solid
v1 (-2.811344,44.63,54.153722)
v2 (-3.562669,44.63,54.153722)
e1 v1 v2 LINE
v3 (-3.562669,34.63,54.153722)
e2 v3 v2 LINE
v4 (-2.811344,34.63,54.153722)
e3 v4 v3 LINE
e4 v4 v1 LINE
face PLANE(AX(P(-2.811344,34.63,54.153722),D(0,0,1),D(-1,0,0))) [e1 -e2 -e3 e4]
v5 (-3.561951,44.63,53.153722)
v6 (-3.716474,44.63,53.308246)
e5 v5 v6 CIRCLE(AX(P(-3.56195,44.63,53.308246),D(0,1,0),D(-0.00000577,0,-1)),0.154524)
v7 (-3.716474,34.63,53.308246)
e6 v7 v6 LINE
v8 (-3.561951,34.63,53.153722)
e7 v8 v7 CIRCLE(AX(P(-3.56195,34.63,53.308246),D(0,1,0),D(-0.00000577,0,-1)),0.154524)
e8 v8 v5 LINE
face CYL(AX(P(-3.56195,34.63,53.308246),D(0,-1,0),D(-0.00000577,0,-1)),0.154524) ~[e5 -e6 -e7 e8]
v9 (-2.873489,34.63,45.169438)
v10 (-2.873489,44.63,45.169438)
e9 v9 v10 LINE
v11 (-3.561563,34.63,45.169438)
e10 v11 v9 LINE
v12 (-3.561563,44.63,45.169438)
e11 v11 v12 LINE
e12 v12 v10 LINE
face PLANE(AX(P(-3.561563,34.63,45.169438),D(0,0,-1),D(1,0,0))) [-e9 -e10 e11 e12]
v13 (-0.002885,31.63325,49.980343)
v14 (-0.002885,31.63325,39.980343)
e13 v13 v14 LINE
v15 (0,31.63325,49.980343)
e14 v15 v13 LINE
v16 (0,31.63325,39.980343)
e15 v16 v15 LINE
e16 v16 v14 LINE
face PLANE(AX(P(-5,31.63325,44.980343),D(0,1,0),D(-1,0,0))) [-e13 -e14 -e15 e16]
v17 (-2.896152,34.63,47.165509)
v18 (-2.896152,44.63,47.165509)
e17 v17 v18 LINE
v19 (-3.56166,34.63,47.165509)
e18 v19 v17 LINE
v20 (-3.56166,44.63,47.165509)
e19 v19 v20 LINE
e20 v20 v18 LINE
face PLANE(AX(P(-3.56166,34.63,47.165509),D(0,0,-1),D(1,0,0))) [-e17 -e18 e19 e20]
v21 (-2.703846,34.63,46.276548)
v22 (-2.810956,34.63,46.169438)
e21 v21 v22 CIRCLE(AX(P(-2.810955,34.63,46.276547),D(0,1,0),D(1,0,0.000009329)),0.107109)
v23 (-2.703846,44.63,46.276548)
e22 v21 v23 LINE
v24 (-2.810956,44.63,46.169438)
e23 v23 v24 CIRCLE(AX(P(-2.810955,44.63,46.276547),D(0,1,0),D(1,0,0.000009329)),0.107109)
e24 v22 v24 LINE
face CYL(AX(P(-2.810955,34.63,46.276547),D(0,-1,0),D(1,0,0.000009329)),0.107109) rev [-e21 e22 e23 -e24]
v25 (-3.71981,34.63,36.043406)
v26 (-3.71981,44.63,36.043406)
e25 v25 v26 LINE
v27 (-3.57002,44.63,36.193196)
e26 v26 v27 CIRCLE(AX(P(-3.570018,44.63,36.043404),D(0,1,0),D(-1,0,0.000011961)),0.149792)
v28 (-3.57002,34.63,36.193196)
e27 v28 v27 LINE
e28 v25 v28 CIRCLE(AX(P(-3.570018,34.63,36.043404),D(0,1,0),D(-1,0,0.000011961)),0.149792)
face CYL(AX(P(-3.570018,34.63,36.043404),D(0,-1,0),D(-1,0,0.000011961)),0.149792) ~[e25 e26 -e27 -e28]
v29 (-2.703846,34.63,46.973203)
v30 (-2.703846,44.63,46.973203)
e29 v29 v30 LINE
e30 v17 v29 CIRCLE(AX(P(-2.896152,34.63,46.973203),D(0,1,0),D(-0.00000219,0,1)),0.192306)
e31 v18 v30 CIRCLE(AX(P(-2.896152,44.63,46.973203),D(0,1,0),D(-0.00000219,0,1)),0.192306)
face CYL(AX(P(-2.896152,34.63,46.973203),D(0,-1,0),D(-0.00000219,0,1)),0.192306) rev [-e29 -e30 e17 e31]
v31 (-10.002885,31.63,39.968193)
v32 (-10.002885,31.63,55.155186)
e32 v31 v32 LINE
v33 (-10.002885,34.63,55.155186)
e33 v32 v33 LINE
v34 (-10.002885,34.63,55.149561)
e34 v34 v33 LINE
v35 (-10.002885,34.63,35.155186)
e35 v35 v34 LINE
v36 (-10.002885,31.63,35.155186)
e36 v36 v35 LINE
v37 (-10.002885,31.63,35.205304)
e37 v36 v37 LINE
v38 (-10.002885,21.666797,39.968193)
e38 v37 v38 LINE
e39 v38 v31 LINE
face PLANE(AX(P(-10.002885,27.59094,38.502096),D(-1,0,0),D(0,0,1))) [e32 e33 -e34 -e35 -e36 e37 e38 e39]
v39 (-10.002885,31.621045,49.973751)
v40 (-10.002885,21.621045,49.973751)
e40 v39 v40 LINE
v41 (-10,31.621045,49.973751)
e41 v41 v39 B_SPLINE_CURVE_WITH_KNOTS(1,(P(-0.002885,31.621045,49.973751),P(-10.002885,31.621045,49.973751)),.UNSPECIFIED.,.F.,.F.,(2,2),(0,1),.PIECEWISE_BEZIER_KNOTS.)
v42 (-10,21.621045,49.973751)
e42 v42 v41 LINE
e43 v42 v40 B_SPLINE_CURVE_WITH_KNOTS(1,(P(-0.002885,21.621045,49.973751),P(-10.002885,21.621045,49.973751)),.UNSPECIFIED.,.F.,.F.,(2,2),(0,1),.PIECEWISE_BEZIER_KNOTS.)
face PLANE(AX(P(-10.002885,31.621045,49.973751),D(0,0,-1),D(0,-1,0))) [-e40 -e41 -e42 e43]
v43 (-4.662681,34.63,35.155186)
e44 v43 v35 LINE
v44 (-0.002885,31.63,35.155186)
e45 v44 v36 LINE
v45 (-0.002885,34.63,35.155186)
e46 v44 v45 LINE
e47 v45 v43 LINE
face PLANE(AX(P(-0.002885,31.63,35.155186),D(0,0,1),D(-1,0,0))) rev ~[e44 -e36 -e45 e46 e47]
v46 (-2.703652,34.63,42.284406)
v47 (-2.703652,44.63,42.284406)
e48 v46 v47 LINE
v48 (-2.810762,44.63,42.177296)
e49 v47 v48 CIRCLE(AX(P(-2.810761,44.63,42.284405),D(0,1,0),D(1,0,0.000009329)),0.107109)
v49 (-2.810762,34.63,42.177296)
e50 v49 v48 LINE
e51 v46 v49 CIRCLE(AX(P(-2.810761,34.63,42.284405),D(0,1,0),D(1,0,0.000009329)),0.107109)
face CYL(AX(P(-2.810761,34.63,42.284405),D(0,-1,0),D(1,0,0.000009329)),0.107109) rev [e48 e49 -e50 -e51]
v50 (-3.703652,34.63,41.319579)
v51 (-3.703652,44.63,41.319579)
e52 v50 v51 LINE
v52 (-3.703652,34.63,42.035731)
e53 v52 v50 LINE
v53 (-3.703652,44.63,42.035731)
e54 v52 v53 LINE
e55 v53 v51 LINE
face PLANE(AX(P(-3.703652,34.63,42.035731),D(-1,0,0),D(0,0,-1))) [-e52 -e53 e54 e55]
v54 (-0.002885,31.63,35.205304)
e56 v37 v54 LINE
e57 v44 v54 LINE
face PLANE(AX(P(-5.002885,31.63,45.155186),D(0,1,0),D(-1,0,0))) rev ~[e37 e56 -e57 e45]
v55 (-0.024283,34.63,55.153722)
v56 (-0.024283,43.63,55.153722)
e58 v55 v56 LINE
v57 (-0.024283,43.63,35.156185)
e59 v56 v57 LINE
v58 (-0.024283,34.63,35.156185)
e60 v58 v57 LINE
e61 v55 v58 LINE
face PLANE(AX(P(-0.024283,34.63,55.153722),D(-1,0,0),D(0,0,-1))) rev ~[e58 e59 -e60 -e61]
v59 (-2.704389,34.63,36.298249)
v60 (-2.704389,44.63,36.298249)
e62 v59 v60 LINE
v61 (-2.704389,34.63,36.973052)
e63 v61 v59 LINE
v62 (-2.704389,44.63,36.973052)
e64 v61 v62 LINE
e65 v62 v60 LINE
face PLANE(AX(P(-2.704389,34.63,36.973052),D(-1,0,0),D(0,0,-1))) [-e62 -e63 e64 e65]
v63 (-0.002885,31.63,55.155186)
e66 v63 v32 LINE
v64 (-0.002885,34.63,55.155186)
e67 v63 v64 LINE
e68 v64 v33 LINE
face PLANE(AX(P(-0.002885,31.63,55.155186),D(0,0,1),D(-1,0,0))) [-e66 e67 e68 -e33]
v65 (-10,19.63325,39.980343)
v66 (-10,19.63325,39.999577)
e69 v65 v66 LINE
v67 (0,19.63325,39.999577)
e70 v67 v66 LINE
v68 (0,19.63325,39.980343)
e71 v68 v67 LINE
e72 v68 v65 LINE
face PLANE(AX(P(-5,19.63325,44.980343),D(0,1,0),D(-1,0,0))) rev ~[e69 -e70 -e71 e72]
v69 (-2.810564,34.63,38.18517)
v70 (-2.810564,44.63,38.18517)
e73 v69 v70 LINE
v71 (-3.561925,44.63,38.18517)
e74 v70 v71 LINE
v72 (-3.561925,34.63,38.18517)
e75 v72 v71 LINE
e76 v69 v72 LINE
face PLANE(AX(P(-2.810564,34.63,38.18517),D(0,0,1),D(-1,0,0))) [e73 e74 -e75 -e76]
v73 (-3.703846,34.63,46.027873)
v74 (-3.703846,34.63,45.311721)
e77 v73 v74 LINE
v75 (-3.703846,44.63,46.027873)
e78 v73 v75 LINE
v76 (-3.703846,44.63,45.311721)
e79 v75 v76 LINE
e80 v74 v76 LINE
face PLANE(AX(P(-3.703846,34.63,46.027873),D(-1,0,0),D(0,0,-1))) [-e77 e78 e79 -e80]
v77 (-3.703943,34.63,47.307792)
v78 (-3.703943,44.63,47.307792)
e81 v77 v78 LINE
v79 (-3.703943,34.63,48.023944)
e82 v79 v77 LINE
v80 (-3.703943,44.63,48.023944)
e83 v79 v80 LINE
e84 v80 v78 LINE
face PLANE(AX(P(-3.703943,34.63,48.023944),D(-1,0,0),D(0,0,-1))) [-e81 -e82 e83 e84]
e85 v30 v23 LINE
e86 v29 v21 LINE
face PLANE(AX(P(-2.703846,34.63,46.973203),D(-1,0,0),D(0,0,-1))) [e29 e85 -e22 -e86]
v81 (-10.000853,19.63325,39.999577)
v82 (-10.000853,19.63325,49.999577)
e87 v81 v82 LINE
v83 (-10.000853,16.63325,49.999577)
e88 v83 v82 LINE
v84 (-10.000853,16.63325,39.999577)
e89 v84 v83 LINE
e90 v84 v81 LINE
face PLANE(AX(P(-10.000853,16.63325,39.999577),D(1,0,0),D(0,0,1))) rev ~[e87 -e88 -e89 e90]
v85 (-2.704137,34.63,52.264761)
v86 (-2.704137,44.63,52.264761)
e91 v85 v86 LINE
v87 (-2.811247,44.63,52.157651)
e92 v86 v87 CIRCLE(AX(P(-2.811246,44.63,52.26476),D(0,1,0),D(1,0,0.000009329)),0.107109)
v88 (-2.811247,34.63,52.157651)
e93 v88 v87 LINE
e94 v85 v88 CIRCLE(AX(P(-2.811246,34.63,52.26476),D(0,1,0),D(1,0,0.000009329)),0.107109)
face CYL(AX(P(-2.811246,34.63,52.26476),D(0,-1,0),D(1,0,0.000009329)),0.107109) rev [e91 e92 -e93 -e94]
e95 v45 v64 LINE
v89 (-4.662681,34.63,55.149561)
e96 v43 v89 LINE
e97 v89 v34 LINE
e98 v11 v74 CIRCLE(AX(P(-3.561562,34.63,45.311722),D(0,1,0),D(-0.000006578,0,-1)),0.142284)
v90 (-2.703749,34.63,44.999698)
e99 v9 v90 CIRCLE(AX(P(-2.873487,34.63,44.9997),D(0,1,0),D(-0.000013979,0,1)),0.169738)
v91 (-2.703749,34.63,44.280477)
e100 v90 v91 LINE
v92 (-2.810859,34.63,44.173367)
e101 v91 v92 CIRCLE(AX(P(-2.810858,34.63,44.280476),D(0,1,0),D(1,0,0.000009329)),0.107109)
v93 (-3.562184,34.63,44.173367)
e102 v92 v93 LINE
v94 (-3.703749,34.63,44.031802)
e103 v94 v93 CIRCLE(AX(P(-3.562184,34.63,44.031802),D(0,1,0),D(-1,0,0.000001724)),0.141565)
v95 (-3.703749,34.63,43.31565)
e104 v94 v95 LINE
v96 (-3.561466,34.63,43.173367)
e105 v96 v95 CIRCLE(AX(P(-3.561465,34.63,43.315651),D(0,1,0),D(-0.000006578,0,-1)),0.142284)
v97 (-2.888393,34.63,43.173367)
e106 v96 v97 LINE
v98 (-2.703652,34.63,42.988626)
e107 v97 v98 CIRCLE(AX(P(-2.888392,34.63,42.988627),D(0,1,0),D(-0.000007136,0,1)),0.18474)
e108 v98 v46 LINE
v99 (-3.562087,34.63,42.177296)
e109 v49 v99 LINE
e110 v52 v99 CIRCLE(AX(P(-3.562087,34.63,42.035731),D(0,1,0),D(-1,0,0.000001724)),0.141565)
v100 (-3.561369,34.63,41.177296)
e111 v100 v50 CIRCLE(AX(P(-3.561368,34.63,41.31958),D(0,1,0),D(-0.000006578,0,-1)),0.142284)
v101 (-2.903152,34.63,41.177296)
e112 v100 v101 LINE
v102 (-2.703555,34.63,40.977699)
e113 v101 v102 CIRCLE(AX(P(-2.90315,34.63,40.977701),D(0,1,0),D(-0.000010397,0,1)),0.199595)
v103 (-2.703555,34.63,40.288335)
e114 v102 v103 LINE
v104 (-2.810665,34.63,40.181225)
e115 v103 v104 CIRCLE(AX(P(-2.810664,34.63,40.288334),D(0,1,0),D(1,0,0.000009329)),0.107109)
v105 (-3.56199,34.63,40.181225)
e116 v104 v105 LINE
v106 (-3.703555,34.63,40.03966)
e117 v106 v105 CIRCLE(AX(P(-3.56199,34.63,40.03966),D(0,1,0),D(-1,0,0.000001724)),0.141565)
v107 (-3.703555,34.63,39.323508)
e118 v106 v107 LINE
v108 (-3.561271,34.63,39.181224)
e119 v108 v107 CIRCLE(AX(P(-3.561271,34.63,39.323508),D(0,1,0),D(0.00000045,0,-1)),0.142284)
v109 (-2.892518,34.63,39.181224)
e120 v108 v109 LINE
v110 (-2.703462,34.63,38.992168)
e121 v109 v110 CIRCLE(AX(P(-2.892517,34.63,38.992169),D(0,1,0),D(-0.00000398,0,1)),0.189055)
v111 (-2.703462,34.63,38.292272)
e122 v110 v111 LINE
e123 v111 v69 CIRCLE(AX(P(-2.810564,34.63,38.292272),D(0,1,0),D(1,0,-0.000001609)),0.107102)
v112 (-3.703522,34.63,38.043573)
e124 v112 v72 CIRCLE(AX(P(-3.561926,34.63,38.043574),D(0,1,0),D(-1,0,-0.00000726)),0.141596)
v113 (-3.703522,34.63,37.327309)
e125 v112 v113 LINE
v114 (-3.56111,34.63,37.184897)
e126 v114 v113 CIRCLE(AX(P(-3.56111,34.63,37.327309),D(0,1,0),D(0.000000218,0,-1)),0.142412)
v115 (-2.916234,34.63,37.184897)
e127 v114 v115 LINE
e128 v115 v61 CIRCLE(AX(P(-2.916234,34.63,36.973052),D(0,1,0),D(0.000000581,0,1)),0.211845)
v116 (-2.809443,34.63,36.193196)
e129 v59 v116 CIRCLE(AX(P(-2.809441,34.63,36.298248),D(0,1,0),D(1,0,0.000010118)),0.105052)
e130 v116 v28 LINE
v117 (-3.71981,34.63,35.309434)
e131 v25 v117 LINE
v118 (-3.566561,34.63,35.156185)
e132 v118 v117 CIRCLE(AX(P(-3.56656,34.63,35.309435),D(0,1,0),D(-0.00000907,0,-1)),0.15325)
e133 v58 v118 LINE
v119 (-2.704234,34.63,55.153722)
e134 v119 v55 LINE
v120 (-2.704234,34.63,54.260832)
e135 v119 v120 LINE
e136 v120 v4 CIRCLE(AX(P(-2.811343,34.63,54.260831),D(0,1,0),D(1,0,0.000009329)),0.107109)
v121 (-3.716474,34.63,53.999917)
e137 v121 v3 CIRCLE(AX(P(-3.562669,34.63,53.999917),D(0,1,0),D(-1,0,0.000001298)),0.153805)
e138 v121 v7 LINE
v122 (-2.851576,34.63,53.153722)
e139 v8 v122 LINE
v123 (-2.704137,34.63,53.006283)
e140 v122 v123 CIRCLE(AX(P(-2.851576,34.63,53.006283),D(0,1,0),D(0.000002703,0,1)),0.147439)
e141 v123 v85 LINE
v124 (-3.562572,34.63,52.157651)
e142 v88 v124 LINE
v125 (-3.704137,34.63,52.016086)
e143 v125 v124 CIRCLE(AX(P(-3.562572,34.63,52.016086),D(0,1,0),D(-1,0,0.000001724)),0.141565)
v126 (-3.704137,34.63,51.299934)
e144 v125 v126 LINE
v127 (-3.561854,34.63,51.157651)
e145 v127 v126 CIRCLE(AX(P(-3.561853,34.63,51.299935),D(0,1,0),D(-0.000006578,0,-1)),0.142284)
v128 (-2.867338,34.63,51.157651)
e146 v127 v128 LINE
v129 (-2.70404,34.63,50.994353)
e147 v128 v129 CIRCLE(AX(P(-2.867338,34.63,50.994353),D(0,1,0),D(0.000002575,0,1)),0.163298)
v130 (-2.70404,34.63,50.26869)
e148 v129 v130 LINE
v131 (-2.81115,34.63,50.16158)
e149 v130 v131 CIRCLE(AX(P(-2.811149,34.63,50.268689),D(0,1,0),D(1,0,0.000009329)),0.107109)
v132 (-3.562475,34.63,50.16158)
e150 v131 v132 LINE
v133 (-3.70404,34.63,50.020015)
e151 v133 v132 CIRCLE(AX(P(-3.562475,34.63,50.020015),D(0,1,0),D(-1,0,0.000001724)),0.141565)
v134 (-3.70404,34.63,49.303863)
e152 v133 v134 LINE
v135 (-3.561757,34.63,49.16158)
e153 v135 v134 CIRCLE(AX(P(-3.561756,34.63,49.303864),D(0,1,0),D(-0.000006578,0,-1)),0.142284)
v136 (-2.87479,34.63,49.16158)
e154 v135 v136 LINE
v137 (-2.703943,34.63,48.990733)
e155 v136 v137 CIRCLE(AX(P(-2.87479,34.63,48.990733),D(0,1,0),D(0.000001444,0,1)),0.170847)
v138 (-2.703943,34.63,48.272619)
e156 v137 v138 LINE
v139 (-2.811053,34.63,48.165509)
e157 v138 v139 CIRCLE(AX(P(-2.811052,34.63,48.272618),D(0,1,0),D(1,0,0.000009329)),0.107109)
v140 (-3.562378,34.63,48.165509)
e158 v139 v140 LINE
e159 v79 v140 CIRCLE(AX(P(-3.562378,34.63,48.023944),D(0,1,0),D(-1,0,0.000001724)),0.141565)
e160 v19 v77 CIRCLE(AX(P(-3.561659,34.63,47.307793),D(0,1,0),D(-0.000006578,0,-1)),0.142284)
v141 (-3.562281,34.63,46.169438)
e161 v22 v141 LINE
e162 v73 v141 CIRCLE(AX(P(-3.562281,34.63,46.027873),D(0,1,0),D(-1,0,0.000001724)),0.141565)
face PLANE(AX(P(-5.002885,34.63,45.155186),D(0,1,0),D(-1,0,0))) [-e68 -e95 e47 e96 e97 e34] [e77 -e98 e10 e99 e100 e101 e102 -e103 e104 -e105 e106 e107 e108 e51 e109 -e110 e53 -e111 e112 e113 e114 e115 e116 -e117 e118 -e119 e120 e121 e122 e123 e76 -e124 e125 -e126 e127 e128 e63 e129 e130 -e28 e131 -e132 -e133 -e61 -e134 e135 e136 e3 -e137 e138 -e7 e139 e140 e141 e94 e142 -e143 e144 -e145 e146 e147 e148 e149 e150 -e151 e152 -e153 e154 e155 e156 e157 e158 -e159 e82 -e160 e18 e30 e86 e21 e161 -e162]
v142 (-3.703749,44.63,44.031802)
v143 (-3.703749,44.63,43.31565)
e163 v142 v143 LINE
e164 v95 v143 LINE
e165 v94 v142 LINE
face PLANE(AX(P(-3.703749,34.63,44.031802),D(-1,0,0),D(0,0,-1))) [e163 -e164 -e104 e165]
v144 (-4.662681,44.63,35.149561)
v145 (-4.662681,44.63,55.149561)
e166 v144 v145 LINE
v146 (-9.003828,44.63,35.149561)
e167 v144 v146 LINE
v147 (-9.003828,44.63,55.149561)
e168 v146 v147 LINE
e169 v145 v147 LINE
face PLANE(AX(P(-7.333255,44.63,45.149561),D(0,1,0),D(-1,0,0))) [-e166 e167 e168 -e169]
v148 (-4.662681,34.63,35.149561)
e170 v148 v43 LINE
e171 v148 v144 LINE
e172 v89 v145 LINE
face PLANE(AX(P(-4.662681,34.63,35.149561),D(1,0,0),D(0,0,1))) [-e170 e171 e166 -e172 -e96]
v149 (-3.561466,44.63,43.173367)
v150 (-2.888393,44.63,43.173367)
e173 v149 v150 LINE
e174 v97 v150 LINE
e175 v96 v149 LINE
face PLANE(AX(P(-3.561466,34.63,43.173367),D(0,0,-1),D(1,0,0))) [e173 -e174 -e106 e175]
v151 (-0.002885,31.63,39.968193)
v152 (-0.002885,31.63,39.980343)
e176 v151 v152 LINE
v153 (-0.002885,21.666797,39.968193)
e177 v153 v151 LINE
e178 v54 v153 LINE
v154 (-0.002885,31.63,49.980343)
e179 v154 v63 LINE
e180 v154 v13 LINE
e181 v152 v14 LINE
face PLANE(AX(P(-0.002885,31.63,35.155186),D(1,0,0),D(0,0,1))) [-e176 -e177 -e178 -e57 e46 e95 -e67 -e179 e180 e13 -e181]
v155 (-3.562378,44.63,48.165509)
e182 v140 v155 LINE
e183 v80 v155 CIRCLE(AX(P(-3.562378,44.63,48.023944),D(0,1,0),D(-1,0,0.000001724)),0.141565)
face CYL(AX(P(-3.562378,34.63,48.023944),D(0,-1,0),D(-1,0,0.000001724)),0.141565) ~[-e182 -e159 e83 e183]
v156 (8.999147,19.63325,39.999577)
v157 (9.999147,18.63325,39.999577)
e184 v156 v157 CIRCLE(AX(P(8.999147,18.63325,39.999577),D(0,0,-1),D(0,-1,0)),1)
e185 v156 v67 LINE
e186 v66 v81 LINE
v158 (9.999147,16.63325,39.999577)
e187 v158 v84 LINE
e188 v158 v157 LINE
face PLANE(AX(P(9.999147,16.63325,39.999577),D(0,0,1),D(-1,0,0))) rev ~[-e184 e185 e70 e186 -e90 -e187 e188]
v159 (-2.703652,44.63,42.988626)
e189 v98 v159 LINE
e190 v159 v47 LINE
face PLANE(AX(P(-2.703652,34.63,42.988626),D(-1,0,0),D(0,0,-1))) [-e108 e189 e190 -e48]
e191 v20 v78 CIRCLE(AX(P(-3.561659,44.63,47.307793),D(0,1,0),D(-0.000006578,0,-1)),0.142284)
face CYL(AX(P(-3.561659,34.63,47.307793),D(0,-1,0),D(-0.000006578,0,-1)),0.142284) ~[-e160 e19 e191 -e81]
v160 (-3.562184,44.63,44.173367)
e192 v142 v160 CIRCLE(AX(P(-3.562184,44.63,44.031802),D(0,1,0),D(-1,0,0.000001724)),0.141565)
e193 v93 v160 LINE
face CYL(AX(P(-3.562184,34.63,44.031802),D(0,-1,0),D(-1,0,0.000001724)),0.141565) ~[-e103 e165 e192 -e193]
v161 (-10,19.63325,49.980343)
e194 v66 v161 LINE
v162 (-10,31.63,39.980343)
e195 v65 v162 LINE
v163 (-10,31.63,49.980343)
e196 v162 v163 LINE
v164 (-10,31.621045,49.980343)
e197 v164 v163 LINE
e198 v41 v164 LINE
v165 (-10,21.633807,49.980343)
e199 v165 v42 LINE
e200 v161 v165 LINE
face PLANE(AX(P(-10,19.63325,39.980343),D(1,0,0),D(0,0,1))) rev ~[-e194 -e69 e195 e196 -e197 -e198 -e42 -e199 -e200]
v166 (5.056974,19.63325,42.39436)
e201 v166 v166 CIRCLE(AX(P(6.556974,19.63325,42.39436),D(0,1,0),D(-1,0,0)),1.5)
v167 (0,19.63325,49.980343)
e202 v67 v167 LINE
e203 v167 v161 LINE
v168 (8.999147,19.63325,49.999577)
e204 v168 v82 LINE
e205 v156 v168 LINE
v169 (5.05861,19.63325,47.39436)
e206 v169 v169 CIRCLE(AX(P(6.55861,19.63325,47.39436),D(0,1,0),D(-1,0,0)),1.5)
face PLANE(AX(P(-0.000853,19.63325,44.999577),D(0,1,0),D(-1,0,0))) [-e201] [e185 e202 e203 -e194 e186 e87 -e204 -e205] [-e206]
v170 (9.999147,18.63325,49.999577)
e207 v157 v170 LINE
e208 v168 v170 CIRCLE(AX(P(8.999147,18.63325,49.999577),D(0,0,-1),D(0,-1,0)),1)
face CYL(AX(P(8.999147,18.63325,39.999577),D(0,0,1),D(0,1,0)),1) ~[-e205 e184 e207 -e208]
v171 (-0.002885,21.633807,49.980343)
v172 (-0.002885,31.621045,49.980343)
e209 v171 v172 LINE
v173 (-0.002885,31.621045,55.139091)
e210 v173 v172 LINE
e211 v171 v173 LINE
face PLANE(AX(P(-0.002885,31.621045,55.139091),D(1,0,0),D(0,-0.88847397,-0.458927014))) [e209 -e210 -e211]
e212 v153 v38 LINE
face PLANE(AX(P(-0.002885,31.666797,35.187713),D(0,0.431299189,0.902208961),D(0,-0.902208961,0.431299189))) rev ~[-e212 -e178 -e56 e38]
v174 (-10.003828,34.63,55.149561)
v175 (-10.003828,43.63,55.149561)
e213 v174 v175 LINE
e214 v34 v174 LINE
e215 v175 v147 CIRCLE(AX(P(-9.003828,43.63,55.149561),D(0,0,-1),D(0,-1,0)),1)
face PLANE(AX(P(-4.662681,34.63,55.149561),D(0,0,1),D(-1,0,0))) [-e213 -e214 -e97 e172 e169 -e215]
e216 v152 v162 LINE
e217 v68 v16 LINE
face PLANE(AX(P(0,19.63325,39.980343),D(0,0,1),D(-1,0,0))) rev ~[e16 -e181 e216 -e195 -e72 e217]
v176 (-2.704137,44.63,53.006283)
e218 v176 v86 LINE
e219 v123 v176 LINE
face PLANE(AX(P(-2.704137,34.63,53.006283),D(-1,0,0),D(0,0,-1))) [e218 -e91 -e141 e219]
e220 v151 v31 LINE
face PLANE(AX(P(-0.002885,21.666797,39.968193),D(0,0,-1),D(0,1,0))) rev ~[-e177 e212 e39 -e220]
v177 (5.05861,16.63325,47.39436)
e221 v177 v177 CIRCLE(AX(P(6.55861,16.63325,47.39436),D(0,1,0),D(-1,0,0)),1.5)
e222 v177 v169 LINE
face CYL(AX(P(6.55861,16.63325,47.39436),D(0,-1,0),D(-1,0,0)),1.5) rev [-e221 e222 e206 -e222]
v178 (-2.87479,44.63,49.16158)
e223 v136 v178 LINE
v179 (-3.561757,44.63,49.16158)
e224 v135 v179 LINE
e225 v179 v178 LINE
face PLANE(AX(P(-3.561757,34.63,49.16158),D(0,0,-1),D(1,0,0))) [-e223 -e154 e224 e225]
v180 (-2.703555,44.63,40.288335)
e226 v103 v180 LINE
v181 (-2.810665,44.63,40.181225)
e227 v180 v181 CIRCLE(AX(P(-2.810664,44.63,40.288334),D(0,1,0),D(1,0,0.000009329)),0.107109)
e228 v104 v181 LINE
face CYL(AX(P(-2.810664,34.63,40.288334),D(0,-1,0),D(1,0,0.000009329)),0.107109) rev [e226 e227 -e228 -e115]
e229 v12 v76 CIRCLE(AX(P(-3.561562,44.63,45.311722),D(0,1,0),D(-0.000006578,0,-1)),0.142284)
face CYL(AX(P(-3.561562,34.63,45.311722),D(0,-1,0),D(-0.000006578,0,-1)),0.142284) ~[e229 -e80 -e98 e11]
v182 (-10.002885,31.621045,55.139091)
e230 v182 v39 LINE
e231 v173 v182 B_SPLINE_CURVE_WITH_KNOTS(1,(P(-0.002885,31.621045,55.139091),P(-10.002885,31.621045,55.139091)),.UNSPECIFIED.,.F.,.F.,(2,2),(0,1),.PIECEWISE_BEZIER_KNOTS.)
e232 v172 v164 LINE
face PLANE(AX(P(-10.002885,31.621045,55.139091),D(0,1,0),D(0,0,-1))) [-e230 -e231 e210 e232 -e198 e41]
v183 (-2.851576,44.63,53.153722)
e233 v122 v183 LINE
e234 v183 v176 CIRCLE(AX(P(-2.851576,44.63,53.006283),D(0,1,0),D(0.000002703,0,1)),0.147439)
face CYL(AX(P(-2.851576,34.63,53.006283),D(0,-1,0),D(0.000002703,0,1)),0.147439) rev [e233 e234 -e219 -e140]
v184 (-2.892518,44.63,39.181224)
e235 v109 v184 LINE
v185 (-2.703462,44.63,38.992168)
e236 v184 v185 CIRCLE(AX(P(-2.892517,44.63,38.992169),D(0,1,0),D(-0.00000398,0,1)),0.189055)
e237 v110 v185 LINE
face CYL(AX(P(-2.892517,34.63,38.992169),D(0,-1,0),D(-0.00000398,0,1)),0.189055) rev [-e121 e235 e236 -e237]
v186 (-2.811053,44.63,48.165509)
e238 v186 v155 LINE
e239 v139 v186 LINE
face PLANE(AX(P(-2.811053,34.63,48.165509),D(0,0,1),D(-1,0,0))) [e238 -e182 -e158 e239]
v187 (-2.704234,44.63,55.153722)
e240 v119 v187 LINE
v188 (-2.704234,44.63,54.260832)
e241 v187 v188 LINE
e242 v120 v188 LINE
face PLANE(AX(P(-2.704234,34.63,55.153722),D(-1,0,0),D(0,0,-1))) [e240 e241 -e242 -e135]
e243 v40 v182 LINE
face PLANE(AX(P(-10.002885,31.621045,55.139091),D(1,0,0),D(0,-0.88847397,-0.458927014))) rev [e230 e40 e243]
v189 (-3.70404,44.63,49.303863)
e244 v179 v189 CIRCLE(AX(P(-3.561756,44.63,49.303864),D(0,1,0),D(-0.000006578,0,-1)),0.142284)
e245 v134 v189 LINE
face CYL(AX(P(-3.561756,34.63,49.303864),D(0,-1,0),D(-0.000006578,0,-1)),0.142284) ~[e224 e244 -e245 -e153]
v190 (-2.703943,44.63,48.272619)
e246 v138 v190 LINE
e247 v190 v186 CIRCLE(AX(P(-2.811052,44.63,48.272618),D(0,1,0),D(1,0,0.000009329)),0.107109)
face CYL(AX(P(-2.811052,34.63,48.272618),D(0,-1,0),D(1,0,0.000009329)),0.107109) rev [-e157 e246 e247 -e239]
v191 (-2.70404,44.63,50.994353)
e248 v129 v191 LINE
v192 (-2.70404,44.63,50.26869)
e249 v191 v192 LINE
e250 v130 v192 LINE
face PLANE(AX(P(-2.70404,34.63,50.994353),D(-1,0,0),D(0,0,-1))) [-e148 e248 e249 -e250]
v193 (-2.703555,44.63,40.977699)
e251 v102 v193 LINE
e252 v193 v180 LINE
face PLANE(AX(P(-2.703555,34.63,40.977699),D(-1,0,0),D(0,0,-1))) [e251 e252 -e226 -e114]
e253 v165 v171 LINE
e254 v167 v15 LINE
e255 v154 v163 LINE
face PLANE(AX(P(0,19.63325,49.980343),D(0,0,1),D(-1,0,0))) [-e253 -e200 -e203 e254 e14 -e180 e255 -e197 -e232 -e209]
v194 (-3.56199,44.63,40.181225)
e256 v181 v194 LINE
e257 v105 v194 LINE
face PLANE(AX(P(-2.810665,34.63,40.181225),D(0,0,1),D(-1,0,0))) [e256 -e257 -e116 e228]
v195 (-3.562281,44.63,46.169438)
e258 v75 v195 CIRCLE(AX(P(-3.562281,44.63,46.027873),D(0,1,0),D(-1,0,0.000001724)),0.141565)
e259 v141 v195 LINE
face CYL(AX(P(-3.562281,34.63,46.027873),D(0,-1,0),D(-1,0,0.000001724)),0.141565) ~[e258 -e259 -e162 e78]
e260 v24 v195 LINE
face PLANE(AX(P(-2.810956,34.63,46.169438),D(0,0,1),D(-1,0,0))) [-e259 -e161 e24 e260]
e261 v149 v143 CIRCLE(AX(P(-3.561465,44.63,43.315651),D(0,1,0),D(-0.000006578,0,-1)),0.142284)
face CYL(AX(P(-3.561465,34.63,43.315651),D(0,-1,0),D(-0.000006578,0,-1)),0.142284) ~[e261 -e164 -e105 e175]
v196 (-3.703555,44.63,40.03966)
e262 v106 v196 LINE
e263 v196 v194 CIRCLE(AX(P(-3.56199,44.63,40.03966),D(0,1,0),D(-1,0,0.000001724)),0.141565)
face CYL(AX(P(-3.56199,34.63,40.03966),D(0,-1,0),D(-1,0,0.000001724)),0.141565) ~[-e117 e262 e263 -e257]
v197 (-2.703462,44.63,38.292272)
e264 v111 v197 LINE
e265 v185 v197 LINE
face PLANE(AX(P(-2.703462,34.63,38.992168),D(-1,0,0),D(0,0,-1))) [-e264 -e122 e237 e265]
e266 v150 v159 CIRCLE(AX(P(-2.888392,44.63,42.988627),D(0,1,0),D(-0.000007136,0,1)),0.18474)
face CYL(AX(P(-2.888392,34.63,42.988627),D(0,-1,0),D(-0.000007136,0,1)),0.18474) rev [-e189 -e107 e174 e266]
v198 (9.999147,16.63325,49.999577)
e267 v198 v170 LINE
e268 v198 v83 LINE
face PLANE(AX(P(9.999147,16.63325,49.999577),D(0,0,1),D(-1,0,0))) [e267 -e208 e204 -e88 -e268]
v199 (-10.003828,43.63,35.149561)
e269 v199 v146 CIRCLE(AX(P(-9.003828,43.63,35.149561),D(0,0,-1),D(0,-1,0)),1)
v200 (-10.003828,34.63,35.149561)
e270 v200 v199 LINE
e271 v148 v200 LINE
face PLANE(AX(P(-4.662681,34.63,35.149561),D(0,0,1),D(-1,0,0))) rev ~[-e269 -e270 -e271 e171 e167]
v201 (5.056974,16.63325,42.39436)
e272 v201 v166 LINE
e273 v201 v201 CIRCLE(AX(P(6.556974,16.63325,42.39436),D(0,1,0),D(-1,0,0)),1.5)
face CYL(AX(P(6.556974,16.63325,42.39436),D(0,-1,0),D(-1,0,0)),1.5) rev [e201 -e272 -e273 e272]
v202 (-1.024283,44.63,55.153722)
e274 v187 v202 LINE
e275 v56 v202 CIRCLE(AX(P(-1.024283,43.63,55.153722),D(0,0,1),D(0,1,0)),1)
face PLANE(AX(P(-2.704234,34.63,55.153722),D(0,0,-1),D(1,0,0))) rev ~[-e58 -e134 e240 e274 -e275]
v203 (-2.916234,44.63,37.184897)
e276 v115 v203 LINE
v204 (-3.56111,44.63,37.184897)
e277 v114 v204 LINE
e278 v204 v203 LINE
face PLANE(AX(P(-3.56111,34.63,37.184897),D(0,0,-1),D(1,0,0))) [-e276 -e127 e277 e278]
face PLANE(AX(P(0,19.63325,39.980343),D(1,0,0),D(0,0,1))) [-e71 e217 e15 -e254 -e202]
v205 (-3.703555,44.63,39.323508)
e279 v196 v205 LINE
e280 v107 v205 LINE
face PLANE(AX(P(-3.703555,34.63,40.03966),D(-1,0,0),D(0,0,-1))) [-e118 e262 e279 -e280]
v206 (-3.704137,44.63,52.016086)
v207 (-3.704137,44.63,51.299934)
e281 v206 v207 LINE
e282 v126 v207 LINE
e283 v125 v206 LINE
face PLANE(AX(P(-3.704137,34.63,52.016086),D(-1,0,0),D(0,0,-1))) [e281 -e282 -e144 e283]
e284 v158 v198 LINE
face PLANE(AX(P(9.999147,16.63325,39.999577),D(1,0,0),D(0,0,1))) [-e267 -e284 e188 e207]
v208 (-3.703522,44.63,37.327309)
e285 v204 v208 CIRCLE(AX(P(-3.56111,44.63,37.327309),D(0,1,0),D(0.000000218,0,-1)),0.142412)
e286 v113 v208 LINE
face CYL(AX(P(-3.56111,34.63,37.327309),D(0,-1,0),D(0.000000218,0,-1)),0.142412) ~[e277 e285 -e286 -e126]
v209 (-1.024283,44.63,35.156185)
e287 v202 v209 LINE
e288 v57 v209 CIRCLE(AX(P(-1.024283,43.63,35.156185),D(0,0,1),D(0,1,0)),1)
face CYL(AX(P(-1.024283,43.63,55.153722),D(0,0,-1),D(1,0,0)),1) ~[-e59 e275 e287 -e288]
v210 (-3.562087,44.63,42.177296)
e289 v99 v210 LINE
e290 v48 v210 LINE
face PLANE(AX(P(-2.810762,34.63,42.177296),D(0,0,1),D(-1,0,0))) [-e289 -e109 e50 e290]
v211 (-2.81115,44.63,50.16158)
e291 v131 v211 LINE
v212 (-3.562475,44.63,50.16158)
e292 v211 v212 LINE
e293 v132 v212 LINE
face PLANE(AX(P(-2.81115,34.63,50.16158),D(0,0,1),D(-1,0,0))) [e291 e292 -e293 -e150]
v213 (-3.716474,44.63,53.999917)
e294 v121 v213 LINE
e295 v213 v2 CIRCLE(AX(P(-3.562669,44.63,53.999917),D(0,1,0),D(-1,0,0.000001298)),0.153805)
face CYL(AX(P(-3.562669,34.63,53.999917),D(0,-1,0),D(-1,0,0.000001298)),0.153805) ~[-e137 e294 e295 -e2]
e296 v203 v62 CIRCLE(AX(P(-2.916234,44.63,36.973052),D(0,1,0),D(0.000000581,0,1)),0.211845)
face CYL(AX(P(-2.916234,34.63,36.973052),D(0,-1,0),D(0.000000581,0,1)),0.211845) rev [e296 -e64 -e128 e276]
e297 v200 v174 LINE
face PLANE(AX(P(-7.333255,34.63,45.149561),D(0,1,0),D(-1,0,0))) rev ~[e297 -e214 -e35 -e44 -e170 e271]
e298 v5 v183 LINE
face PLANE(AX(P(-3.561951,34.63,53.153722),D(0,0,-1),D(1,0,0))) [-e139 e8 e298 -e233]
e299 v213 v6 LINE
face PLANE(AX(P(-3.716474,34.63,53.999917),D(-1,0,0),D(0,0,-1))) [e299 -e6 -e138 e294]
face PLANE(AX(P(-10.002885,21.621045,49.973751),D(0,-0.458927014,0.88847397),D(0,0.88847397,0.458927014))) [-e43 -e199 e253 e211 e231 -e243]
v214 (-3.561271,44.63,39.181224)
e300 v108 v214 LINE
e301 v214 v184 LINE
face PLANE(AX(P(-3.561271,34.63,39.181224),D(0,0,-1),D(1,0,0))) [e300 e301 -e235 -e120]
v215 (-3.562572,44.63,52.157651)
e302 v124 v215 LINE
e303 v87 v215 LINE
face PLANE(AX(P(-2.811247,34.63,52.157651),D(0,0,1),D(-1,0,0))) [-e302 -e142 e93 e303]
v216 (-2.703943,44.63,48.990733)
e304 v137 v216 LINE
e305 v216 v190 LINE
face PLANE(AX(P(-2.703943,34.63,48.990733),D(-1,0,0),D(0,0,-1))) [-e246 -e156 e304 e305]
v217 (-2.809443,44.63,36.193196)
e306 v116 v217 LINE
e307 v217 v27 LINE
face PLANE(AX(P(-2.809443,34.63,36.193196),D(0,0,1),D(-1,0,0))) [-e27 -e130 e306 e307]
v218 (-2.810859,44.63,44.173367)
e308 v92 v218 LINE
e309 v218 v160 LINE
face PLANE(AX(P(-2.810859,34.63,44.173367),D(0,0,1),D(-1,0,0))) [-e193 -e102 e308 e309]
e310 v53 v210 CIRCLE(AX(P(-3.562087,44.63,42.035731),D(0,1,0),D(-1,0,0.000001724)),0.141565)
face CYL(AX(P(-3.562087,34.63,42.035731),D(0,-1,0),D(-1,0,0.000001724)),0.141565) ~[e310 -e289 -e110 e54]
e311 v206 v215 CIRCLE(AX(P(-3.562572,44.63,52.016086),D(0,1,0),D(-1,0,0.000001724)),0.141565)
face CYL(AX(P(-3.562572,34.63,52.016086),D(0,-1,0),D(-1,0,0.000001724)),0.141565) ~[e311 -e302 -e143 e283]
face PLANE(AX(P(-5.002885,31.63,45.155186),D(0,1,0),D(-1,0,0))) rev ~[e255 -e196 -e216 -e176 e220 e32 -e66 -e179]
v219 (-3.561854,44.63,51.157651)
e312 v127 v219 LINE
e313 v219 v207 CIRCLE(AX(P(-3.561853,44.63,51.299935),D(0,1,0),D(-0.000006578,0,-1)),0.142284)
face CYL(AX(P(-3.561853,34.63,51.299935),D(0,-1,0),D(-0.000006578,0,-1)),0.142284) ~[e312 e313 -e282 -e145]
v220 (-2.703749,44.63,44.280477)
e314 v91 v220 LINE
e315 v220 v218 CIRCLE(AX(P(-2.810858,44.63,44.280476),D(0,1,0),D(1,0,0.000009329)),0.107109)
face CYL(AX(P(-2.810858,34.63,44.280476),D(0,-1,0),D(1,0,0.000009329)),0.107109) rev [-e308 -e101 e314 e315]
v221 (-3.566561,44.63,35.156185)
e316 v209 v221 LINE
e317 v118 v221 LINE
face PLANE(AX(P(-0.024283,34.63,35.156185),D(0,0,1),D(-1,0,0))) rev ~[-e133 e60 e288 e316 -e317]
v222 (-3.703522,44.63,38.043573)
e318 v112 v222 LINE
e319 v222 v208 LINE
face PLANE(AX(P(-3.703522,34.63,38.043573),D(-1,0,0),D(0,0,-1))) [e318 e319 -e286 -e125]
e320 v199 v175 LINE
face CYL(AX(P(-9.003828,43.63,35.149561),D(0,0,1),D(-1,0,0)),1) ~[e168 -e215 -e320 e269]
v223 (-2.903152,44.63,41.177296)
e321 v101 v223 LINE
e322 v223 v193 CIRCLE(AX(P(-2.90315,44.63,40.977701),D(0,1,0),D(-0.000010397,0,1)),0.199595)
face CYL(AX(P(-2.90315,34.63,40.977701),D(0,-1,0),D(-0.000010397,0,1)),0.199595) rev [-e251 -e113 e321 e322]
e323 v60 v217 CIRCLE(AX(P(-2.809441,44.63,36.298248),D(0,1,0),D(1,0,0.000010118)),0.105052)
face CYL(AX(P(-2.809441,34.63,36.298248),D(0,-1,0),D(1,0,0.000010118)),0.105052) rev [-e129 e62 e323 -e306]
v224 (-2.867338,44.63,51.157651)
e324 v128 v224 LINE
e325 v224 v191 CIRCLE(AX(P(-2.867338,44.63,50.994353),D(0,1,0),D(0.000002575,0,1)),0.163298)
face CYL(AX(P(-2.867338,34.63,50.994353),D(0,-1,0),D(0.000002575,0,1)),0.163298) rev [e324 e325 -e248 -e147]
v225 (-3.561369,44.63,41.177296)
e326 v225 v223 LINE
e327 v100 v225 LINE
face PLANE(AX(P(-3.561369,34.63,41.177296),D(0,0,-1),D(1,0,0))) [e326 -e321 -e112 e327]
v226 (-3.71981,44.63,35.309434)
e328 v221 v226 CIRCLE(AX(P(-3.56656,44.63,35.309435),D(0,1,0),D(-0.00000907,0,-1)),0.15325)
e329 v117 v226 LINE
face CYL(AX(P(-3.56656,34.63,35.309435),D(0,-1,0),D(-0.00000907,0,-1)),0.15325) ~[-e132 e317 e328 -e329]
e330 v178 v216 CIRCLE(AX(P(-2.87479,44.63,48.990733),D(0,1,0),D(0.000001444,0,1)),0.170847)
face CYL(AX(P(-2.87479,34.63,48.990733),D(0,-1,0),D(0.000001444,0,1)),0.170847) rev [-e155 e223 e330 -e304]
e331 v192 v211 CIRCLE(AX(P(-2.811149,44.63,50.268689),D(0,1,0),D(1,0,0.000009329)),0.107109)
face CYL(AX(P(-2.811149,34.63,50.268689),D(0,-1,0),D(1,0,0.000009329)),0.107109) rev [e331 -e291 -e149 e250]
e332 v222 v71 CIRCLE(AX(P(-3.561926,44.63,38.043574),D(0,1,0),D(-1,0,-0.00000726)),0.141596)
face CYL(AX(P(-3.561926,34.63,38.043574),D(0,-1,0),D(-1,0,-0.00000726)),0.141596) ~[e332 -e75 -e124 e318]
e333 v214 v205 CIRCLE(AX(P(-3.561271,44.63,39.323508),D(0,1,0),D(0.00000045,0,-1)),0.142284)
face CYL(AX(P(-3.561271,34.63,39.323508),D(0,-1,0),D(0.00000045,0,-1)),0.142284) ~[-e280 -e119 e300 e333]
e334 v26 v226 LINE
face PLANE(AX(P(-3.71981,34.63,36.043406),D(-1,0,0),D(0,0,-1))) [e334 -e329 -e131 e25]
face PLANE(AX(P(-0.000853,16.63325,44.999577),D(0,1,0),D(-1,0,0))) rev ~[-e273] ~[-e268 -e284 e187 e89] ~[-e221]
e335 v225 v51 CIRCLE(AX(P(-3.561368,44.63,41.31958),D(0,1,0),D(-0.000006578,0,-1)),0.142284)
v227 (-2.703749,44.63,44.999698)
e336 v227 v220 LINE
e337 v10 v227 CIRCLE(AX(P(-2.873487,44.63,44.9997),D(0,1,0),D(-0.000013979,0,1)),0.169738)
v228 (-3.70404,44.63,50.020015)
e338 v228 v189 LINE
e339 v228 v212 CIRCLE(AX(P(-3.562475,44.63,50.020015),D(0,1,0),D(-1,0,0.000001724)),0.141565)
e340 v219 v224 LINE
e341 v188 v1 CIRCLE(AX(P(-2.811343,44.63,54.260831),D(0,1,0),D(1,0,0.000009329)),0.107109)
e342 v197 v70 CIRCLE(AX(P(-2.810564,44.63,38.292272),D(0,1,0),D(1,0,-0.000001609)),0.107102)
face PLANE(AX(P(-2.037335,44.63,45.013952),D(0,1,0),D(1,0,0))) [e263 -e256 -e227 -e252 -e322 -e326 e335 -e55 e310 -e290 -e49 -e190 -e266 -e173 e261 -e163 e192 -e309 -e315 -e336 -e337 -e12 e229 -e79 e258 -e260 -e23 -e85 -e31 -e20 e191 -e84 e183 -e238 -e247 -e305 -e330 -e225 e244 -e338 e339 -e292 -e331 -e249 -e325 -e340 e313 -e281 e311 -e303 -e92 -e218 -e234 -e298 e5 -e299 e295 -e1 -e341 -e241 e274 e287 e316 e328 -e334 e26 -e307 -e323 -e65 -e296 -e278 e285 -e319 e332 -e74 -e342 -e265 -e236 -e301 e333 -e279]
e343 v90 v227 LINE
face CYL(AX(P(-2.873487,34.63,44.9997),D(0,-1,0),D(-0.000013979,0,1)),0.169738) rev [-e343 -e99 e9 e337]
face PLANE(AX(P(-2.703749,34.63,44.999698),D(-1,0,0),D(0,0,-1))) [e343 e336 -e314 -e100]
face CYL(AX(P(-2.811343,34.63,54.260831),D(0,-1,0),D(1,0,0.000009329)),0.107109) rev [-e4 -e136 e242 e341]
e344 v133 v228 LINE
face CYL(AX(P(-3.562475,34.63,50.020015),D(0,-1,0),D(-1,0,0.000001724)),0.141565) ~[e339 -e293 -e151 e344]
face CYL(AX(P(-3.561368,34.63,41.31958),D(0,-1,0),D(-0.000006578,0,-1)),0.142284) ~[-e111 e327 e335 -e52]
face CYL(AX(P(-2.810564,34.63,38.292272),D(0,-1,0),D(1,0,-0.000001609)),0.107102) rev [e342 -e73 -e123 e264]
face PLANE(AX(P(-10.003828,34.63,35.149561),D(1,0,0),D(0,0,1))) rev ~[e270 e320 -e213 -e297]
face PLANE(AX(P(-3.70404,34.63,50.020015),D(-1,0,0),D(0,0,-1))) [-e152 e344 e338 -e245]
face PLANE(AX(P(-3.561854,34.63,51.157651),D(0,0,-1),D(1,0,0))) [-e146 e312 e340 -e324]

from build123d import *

# Parameters (mm, degrees)
SKETCH014_W  = 20
SKETCH014_H  = 10
SKETCH014_R  = 1.5
PAD006_DEPTH = 3
SKETCH015_W  = 10
SKETCH015_H  = 10
PAD007_DEPTH = 12
SKETCH028_W  = 10
SKETCH028_H  = 20
PAD014_DEPTH = 3
PAD015_DEPTH = 10
SKETCH029_W  = 5.341147
SKETCH029_H  = 20
PAD016_DEPTH = 10
PAD017_DEPTH = 10
FILLET001_R  = 1
FILLET002_R  = 1
FILLET003_R  = 1


with BuildPart() as part:
    # Sketch014 → Pad006 (new body)
    with BuildSketch(Plane(origin=(0, 16.63325, 0), x_dir=(-1, 0, 0), z_dir=(0, 1, 0))):
        with Locations((0.000853, 44.999577)):
            Rectangle(SKETCH014_W, SKETCH014_H)
        with Locations((-6.55861, 47.39436)):
            Circle(SKETCH014_R, mode=Mode.SUBTRACT)
        with Locations((-6.556974, 42.39436)):
            Circle(SKETCH014_R, mode=Mode.SUBTRACT)
    extrude(amount=PAD006_DEPTH)

    # Sketch015 (on Face8 of Pad006) → Pad007 (join)
    with BuildSketch(Plane(origin=(-10, 19.63325, 0), x_dir=(-1, 0, 0), z_dir=(0, 1, 0))):
        with Locations((-5, 44.980343)):
            Rectangle(SKETCH015_W, SKETCH015_H)
    extrude(amount=PAD007_DEPTH)

    # Sketch028 → Pad014 (join)
    with BuildSketch(Plane(origin=(0, 31.63, 0), x_dir=(-1, 0, 0), z_dir=(0, 1, 0))):
        with Locations((5.002885, 45.155186)):
            Rectangle(SKETCH028_W, SKETCH028_H)
    extrude(amount=PAD014_DEPTH)

    # Sketch027 → Pad015 (join)
    with BuildSketch(Plane(origin=(-2, 34.63, 45), x_dir=(1, 0, 0), z_dir=(0, 1, 0))):
        with BuildLine():
            Line((1.975717, 9.843815), (-0.708844, 9.843815))
            Line((-1.566561, 9.843815), (-0.708844, 9.843815))
            ThreePointArc((-1.566561, 9.843815), (-1.674924, 9.798929), (-1.71981, 9.690566))
            Line((-1.71981, 8.956594), (-1.71981, 9.690566))
            ThreePointArc((-1.71981, 8.956594), (-1.675937, 8.850677), (-1.57002, 8.806804))
            Line((-0.809443, 8.806804), (-1.57002, 8.806804))
            ThreePointArc((-0.704389, 8.701751), (-0.735158, 8.776035), (-0.809443, 8.806804))
            Line((-0.704389, 8.026948), (-0.704389, 8.701751))
            ThreePointArc((-0.916234, 7.815103), (-0.766437, 7.877151), (-0.704389, 8.026948))
            Line((-1.56111, 7.815103), (-0.916234, 7.815103))
            ThreePointArc((-1.56111, 7.815103), (-1.661811, 7.773391), (-1.703522, 7.672691))
            Line((-1.703522, 6.956427), (-1.703522, 7.672691))
            ThreePointArc((-1.703522, 6.956427), (-1.662049, 6.856302), (-1.561925, 6.81483))
            Line((-0.810564, 6.81483), (-1.561925, 6.81483))
            ThreePointArc((-0.703462, 6.707728), (-0.734831, 6.78346), (-0.810564, 6.81483))
            Line((-0.703462, 6.007832), (-0.703462, 6.707728))
            ThreePointArc((-0.892518, 5.818776), (-0.758835, 5.874149), (-0.703462, 6.007832))
            Line((-1.561271, 5.818776), (-0.892518, 5.818776))
            ThreePointArc((-1.561271, 5.818776), (-1.661881, 5.777102), (-1.703555, 5.676492))
            Line((-1.703555, 4.96034), (-1.703555, 5.676492))
            ThreePointArc((-1.703555, 4.96034), (-1.662091, 4.860238), (-1.56199, 4.818775))
            Line((-0.810665, 4.818775), (-1.56199, 4.818775))
            ThreePointArc((-0.703555, 4.711665), (-0.734926, 4.787403), (-0.810665, 4.818775))
            Line((-0.703555, 4.022301), (-0.703555, 4.711665))
            ThreePointArc((-0.903152, 3.822704), (-0.762015, 3.881164), (-0.703555, 4.022301))
            Line((-1.561369, 3.822704), (-0.903152, 3.822704))
            ThreePointArc((-1.561369, 3.822704), (-1.661978, 3.78103), (-1.703652, 3.680421))
            Line((-1.703652, 2.964269), (-1.703652, 3.680421))
            ThreePointArc((-1.703652, 2.964269), (-1.662188, 2.864167), (-1.562087, 2.822704))
            Line((-0.810762, 2.822704), (-1.562087, 2.822704))
            ThreePointArc((-0.703652, 2.715594), (-0.735023, 2.791332), (-0.810762, 2.822704))
            Line((-0.703652, 2.011374), (-0.703652, 2.715594))
            ThreePointArc((-0.888393, 1.826633), (-0.757761, 1.880742), (-0.703652, 2.011374))
            Line((-1.561466, 1.826633), (-0.888393, 1.826633))
            ThreePointArc((-1.561466, 1.826633), (-1.662075, 1.784959), (-1.703749, 1.68435))
            Line((-1.703749, 0.968198), (-1.703749, 1.68435))
            ThreePointArc((-1.703749, 0.968198), (-1.662285, 0.868096), (-1.562184, 0.826633))
            Line((-0.810859, 0.826633), (-1.562184, 0.826633))
            ThreePointArc((-0.703749, 0.719523), (-0.73512, 0.795261), (-0.810859, 0.826633))
            Line((-0.703749, 0.000302), (-0.703749, 0.719523))
            ThreePointArc((-0.873489, -0.169438), (-0.753464, -0.119723), (-0.703749, 0.000302))
            Line((-1.561563, -0.169438), (-0.873489, -0.169438))
            ThreePointArc((-1.561563, -0.169438), (-1.662172, -0.211112), (-1.703846, -0.311721))
            Line((-1.703846, -1.027873), (-1.703846, -0.311721))
            ThreePointArc((-1.703846, -1.027873), (-1.662382, -1.127975), (-1.562281, -1.169438))
            Line((-0.810956, -1.169438), (-1.562281, -1.169438))
            ThreePointArc((-0.703846, -1.276548), (-0.735217, -1.20081), (-0.810956, -1.169438))
            Line((-0.703846, -1.973203), (-0.703846, -1.276548))
            ThreePointArc((-0.896152, -2.165509), (-0.760171, -2.109184), (-0.703846, -1.973203))
            Line((-1.56166, -2.165509), (-0.896152, -2.165509))
            ThreePointArc((-1.56166, -2.165509), (-1.662269, -2.207183), (-1.703943, -2.307792))
            Line((-1.703943, -3.023944), (-1.703943, -2.307792))
            ThreePointArc((-1.703943, -3.023944), (-1.662479, -3.124046), (-1.562378, -3.165509))
            Line((-0.811053, -3.165509), (-1.562378, -3.165509))
            ThreePointArc((-0.703943, -3.272619), (-0.735314, -3.196881), (-0.811053, -3.165509))
            Line((-0.703943, -3.990733), (-0.703943, -3.272619))
            ThreePointArc((-0.87479, -4.16158), (-0.753983, -4.11154), (-0.703943, -3.990733))
            Line((-1.561757, -4.16158), (-0.87479, -4.16158))
            ThreePointArc((-1.561757, -4.16158), (-1.662366, -4.203254), (-1.70404, -4.303863))
            Line((-1.70404, -5.020015), (-1.70404, -4.303863))
            ThreePointArc((-1.70404, -5.020015), (-1.662576, -5.120117), (-1.562475, -5.16158))
            Line((-0.81115, -5.16158), (-1.562475, -5.16158))
            ThreePointArc((-0.70404, -5.26869), (-0.735411, -5.192952), (-0.81115, -5.16158))
            Line((-0.70404, -5.994353), (-0.70404, -5.26869))
            ThreePointArc((-0.867338, -6.157651), (-0.751869, -6.109822), (-0.70404, -5.994353))
            Line((-1.561854, -6.157651), (-0.867338, -6.157651))
            ThreePointArc((-1.561854, -6.157651), (-1.662463, -6.199325), (-1.704137, -6.299934))
            Line((-1.704137, -7.016086), (-1.704137, -6.299934))
            ThreePointArc((-1.704137, -7.016086), (-1.662673, -7.116188), (-1.562572, -7.157651))
            Line((-0.811247, -7.157651), (-1.562572, -7.157651))
            ThreePointArc((-0.704137, -7.264761), (-0.735508, -7.189023), (-0.811247, -7.157651))
            Line((-0.704137, -8.006283), (-0.704137, -7.264761))
            ThreePointArc((-0.851576, -8.153722), (-0.747321, -8.110538), (-0.704137, -8.006283))
            Line((-1.561951, -8.153722), (-0.851576, -8.153722))
            ThreePointArc((-1.561951, -8.153722), (-1.671215, -8.198981), (-1.716474, -8.308246))
            Line((-1.716474, -8.999917), (-1.716474, -8.308246))
            ThreePointArc((-1.716474, -8.999917), (-1.671425, -9.108674), (-1.562669, -9.153722))
            Line((-0.811344, -9.153722), (-1.562669, -9.153722))
            ThreePointArc((-0.704234, -9.260832), (-0.735605, -9.185094), (-0.811344, -9.153722))
            Line((-0.704234, -10.153722), (-0.704234, -9.260832))
            Line((-0.704234, -10.153722), (1.975717, -10.153722))
            Line((1.975717, -10.153722), (1.975717, 9.843815))
        make_face()
    extrude(amount=PAD015_DEPTH)

    # Sketch029 → Pad016 (join)
    with BuildSketch(Plane(origin=(0, 34.63, 0), x_dir=(-1, 0, 0), z_dir=(0, 1, 0))):
        with Locations((7.333255, 45.149561)):
            Rectangle(SKETCH029_W, SKETCH029_H)
    extrude(amount=PAD016_DEPTH)

    # Sketch035 (on Face15 of Pad016) → AdditiveLoft002 section 0
    with BuildSketch(Plane(origin=(-0.002885, 16.63325, 0), x_dir=(0, 0, -1), z_dir=(1, 0, 0))):
        Polygon((-55.139091, 14.987795), (-49.973751, 14.987795), (-49.973751, 4.987795), align=None)
    # Sketch036 (on Face15 of Pad016) → AdditiveLoft002 section 1
    with BuildSketch(Plane(origin=(-10.002885, 16.63325, 0), x_dir=(0, 0, -1), z_dir=(1, 0, 0))):
        Polygon((-55.139091, 14.987795), (-49.973751, 14.987795), (-49.973751, 4.987795), align=None)
    loft()

    # Sketch037 (on Face19 of AdditiveLoft002) → Pad017 (join)
    with BuildSketch(Plane(origin=(-0.002885, 16.63325, 0), x_dir=(0, 0, -1), z_dir=(1, 0, 0))):
        Polygon((-39.968193, 15.033547), (-35.187713, 15.033547), (-39.968193, 5.033547), align=None)
    extrude(amount=-PAD017_DEPTH)

    # Fillet001
    fillet001_edges = [part.edges().sort_by_distance(p)[0] for p in [
        (9.999147, 19.63325, 44.999577),
    ]]
    fillet(fillet001_edges, radius=FILLET001_R)

    # Fillet002
    fillet002_edges = [part.edges().sort_by_distance(p)[0] for p in [
        (-0.024283, 44.63, 45.154954),
    ]]
    fillet(fillet002_edges, radius=FILLET002_R)

    # Fillet003
    fillet003_edges = [part.edges().sort_by_distance(p)[0] for p in [
        (-10.003829, 44.63, 45.149561),
    ]]
    fillet(fillet003_edges, radius=FILLET003_R)


solid = part.part
